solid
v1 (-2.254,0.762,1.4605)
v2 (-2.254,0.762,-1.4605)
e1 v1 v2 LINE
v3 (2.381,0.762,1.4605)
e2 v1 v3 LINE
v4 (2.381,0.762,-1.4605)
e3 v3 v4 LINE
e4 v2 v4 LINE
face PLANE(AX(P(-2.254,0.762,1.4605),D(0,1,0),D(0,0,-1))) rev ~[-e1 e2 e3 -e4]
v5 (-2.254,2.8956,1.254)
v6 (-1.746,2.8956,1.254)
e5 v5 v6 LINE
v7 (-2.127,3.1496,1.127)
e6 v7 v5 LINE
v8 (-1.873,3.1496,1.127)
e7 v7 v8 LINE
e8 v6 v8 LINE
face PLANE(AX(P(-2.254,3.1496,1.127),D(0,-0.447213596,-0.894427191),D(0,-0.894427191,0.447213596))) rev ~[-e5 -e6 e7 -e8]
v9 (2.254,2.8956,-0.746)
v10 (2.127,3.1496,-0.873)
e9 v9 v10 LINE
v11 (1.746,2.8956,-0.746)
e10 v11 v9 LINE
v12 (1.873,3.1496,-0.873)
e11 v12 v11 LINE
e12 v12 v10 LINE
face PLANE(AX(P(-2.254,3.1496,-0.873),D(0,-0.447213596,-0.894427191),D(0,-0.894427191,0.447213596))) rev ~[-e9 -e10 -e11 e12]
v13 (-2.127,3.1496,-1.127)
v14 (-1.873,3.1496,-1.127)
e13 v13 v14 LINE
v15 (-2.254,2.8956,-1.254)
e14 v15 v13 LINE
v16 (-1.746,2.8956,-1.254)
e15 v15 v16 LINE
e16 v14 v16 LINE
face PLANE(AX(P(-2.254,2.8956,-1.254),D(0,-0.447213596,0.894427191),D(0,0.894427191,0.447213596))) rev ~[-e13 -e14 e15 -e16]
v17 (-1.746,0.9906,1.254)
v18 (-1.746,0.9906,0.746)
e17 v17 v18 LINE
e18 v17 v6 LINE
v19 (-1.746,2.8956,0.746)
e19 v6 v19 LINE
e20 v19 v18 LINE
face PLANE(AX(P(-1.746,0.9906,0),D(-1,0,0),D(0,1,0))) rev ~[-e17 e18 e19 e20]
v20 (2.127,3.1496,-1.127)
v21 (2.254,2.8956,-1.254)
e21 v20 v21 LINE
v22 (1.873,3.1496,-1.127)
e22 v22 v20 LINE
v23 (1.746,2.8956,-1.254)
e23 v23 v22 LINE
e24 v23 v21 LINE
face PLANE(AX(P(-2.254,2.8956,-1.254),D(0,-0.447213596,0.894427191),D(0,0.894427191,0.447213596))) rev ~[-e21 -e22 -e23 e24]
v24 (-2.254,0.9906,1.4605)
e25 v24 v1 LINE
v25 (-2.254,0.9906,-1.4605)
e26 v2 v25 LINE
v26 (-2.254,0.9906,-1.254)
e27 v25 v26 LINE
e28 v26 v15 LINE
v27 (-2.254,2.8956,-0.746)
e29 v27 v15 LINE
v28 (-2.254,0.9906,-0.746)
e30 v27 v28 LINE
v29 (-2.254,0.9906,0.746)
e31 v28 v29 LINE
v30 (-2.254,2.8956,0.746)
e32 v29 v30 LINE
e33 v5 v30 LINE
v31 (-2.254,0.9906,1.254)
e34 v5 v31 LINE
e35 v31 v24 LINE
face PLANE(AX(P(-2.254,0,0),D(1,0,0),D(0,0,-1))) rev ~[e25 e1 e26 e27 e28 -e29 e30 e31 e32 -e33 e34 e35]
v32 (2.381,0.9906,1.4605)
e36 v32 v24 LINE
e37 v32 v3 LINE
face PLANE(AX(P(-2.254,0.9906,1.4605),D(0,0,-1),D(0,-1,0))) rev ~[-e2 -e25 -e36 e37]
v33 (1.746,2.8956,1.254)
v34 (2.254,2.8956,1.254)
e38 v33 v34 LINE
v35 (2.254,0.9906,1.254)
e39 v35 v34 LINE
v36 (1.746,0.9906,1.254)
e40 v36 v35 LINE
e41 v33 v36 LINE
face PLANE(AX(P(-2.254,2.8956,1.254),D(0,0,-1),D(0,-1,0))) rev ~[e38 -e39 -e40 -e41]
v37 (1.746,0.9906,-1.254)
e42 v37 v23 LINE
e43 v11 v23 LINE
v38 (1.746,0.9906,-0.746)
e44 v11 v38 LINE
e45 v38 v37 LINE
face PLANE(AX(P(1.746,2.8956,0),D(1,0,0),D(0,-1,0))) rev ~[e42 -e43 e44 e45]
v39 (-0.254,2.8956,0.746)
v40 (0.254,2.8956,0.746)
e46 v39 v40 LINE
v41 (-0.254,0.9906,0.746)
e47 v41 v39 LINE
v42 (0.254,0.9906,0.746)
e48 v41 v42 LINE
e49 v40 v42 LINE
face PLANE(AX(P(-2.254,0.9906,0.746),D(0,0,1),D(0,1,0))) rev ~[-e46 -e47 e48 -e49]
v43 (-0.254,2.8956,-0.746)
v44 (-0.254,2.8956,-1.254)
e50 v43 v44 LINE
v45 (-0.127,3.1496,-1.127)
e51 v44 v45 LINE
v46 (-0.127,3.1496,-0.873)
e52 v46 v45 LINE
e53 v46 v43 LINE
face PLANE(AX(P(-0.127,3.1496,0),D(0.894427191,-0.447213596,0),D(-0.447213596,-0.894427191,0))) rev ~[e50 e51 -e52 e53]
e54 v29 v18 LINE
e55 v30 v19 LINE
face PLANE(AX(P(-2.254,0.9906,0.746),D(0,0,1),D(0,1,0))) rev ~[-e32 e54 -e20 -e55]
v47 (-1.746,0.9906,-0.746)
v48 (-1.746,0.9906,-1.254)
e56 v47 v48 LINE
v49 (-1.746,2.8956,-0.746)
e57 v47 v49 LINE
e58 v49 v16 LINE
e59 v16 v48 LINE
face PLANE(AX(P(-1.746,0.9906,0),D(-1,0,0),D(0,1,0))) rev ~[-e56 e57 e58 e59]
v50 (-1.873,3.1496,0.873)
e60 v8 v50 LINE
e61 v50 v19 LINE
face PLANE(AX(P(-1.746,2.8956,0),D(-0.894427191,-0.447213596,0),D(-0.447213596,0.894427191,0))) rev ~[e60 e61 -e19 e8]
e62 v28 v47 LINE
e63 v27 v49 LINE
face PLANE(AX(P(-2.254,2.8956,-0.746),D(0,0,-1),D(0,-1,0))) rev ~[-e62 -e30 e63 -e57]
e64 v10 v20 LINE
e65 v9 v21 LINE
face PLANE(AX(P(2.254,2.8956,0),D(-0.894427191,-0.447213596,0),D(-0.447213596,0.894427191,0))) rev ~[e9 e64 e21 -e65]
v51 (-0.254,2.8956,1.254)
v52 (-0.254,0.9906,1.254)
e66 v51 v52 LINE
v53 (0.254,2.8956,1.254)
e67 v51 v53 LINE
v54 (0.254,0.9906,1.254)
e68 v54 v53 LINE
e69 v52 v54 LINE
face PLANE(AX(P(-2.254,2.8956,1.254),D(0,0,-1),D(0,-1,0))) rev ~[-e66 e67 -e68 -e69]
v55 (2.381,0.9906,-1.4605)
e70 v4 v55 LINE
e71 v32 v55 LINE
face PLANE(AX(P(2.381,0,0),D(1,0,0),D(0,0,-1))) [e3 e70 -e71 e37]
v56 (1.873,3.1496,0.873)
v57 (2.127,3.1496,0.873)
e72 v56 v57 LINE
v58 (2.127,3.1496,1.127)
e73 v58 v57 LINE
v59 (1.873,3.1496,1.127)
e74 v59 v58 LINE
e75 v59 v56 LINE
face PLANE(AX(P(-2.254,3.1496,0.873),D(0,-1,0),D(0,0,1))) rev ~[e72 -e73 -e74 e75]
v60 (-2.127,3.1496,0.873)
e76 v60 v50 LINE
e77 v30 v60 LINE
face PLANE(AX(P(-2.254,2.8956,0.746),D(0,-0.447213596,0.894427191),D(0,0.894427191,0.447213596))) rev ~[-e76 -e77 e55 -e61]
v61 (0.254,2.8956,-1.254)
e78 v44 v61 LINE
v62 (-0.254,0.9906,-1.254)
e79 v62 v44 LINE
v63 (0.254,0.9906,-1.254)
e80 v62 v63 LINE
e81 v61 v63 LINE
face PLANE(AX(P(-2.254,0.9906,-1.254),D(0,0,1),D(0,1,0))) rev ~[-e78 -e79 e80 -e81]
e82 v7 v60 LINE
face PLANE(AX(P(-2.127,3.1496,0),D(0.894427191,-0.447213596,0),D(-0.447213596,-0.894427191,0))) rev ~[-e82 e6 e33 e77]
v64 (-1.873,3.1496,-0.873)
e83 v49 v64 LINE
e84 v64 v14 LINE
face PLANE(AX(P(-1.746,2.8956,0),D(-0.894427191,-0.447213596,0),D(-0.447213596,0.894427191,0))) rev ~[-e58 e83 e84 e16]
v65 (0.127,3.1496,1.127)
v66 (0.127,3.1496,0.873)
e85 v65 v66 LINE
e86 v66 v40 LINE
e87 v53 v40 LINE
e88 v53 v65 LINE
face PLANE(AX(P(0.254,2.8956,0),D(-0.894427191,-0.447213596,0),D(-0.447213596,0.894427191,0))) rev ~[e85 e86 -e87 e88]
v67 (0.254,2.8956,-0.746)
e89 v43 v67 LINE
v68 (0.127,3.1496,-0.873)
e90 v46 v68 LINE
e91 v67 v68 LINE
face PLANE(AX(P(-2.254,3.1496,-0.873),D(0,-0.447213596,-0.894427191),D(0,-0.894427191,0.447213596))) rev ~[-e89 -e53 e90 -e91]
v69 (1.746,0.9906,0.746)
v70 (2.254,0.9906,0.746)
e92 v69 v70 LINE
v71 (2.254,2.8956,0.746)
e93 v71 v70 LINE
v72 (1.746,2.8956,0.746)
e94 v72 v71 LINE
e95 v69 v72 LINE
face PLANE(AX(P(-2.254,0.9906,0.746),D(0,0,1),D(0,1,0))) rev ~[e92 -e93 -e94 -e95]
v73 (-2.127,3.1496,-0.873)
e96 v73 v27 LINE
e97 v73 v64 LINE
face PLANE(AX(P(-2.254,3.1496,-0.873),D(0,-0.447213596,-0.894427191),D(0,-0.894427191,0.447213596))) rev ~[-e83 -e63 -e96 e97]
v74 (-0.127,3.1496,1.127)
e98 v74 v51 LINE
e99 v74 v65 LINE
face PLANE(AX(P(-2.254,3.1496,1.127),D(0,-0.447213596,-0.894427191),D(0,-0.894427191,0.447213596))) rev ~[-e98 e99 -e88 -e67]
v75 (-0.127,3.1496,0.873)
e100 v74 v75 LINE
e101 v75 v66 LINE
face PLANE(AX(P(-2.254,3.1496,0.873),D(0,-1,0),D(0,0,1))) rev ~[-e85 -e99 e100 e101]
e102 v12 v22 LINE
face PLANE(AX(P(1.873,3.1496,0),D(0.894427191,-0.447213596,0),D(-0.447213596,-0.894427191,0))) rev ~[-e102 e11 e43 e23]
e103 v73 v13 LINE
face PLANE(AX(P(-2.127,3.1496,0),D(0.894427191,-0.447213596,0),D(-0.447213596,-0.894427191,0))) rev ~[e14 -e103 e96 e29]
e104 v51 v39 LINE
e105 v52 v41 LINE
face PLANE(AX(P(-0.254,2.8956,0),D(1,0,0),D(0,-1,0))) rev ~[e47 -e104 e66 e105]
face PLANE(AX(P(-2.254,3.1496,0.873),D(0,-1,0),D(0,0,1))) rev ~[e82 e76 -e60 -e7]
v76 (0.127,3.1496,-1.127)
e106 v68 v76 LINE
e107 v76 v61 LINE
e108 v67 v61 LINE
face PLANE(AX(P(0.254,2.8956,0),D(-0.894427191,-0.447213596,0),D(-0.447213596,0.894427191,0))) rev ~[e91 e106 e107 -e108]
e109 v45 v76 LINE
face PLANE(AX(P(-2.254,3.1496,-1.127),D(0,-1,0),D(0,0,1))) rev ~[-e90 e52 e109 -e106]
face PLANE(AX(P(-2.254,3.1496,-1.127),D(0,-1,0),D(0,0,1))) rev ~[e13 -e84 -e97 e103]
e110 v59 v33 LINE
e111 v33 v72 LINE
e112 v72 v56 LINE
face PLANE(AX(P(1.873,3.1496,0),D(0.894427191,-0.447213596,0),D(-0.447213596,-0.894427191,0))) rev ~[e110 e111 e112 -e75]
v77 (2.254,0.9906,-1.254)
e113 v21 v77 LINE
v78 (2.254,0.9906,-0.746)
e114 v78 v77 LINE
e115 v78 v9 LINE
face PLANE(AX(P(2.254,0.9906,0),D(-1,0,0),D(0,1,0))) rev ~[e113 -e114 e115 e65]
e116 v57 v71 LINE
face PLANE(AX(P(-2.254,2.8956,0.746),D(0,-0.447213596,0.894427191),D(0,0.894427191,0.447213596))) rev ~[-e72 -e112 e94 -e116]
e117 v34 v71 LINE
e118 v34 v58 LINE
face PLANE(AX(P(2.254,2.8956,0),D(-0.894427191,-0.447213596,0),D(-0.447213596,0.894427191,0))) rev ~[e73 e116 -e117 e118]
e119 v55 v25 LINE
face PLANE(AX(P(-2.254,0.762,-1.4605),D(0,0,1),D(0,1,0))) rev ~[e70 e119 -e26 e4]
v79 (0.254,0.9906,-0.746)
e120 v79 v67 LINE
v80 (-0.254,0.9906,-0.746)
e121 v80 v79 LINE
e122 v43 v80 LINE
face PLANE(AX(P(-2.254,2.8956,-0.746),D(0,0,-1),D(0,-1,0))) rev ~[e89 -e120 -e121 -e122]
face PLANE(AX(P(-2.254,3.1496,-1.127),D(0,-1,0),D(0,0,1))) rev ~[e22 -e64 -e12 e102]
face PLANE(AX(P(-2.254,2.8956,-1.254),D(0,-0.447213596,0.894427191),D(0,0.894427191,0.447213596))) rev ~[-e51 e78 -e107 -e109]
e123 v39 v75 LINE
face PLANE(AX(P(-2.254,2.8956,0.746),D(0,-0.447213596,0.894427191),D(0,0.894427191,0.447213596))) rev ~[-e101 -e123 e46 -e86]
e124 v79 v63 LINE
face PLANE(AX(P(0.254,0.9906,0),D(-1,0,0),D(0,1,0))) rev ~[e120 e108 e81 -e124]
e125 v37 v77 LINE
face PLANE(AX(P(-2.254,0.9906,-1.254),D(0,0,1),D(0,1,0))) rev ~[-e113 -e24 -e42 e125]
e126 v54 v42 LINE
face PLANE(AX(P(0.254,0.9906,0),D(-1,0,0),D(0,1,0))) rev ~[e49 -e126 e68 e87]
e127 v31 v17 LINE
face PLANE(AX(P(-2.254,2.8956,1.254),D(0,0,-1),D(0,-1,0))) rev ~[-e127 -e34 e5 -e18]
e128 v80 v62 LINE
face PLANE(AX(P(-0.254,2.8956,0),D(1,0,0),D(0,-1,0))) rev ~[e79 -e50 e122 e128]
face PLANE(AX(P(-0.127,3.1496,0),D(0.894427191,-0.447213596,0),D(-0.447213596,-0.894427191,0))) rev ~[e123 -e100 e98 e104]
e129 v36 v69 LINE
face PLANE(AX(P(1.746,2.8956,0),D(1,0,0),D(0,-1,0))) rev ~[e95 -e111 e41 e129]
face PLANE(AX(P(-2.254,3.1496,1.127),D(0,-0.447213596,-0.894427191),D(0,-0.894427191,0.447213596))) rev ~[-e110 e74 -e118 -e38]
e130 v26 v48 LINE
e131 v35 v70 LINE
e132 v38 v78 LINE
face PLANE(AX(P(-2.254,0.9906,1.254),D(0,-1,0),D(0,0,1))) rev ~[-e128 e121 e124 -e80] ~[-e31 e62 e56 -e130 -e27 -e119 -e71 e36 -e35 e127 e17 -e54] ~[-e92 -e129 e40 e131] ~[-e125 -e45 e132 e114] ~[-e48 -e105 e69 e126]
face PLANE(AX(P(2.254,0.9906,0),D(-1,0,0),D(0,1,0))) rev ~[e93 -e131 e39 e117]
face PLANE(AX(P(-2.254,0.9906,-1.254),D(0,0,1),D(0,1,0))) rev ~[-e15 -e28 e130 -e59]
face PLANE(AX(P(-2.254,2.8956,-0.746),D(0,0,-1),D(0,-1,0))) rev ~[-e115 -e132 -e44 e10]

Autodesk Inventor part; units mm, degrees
sketch "Sketch_2" plane through (-2.254, 0, 0) normal (1, 0, 0) x (0, 0, -1)
  line L0 (-1.4605, 0.762) -> (1.4605, 0.762)
  line L1 (1.4605, 0.762) -> (1.4605, 0.9906)
  line L2 (1.4605, 0.9906) -> (1.254, 0.9906)
  line L3 (1.254, 0.9906) -> (1.254, 2.8956)
  line L4 (1.254, 2.8956) -> (1.127, 3.1496)
  line L5 (1.127, 3.1496) -> (0.873, 3.1496)
  line L6 (0.873, 3.1496) -> (0.746, 2.8956)
  line L7 (0.746, 2.8956) -> (0.746, 0.9906)
  line L8 (0.746, 0.9906) -> (-0.746, 0.9906)
  line L9 (-0.746, 0.9906) -> (-0.746, 2.8956)
  line L10 (-0.746, 2.8956) -> (-0.873, 3.1496)
  line L11 (-0.873, 3.1496) -> (-1.127, 3.1496)
  line L12 (-1.127, 3.1496) -> (-1.254, 2.8956)
  line L13 (-1.254, 2.8956) -> (-1.254, 0.9906)
  line L14 (-1.254, 0.9906) -> (-1.4605, 0.9906)
  line L15 (-1.4605, 0.9906) -> (-1.4605, 0.762)
extrude "Extrusion1" add sketch "Sketch_2" along normal blind 4.635
sketch "Sketch_1" plane through (0, 0, 0) normal (0, 0, 1) x (1, 0, 0)
  line L0 (-109.4334, 38.1) -> (-109.4334, -38.1)
  line L1 (-109.4334, -38.1) -> (56.7986, -38.1)
  line L2 (56.7986, -38.1) -> (56.7986, 38.1)
  line L3 (56.7986, 38.1) -> (-109.4334, 38.1)
  line L4 (-100.4603, 0.762) -> (-100.2538, 0.762)
  line L5 (-100.2538, 0.762) -> (-100.2538, -2.032)
  line L6 (-100.2538, -2.032) -> (-100.1268, -2.286)
  line L7 (-100.1268, -2.286) -> (-99.8728, -2.286)
  line L8 (-99.8728, -2.286) -> (-99.7458, -2.032)
  line L9 (-99.7458, -2.032) -> (-99.7458, 0.762)
  line L10 (-99.7458, 0.762) -> (-98.2538, 0.762)
  line L11 (-98.2538, 0.762) -> (-98.2538, -2.032)
  line L12 (-98.2538, -2.032) -> (-98.1268, -2.286)
  line L13 (-98.1268, -2.286) -> (-97.8728, -2.286)
  line L14 (-97.8728, -2.286) -> (-97.7458, -2.032)
  line L15 (-97.7458, -2.032) -> (-97.7458, 0.762)
  line L16 (-97.7458, 0.762) -> (-96.2538, 0.762)
  line L17 (-96.2538, 0.762) -> (-96.2538, -2.032)
  line L18 (-96.2538, -2.032) -> (-96.1268, -2.286)
  line L19 (-96.1268, -2.286) -> (-95.8728, -2.286)
  line L20 (-95.8728, -2.286) -> (-95.7458, -2.032)
  line L21 (-95.7458, -2.032) -> (-95.7458, 0.762)
  line L22 (-95.7458, 0.762) -> (-94.2538, 0.762)
  line L23 (-94.2538, 0.762) -> (-94.2538, -2.032)
  line L24 (-94.2538, -2.032) -> (-94.1268, -2.286)
  line L25 (-94.1268, -2.286) -> (-93.8728, -2.286)
  line L26 (-93.8728, -2.286) -> (-93.7458, -2.032)
  line L27 (-93.7458, -2.032) -> (-93.7458, 0.762)
  line L28 (-93.7458, 0.762) -> (-92.2538, 0.762)
  line L29 (-92.2538, 0.762) -> (-92.2538, -2.032)
  line L30 (-92.2538, -2.032) -> (-92.1268, -2.286)
  line L31 (-92.1268, -2.286) -> (-91.8728, -2.286)
  line L32 (-91.8728, -2.286) -> (-91.7458, -2.032)
  line L33 (-91.7458, -2.032) -> (-91.7458, 0.762)
  line L34 (-91.7458, 0.762) -> (-90.2538, 0.762)
  line L35 (-90.2538, 0.762) -> (-90.2538, -2.032)
  line L36 (-90.2538, -2.032) -> (-90.1268, -2.286)
  line L37 (-90.1268, -2.286) -> (-89.8728, -2.286)
  line L38 (-89.8728, -2.286) -> (-89.7458, -2.032)
  line L39 (-89.7458, -2.032) -> (-89.7458, 0.762)
  line L40 (-89.7458, 0.762) -> (-88.2538, 0.762)
  line L41 (-88.2538, 0.762) -> (-88.2538, -2.032)
  line L42 (-88.2538, -2.032) -> (-88.1268, -2.286)
  line L43 (-88.1268, -2.286) -> (-87.8728, -2.286)
  line L44 (-87.8728, -2.286) -> (-87.7458, -2.032)
  line L45 (-87.7458, -2.032) -> (-87.7458, 0.762)
  line L46 (-87.7458, 0.762) -> (-86.2538, 0.762)
  line L47 (-86.2538, 0.762) -> (-86.2538, -2.032)
  line L48 (-86.2538, -2.032) -> (-86.1268, -2.286)
  line L49 (-86.1268, -2.286) -> (-85.8728, -2.286)
  line L50 (-85.8728, -2.286) -> (-85.7458, -2.032)
  line L51 (-85.7458, -2.032) -> (-85.7458, 0.762)
  line L52 (-85.7458, 0.762) -> (-84.2538, 0.762)
  line L53 (-84.2538, 0.762) -> (-84.2538, -2.032)
  line L54 (-84.2538, -2.032) -> (-84.1268, -2.286)
  line L55 (-84.1268, -2.286) -> (-83.8728, -2.286)
  line L56 (-83.8728, -2.286) -> (-83.7458, -2.032)
  line L57 (-83.7458, -2.032) -> (-83.7458, 0.762)
  line L58 (-83.7458, 0.762) -> (-82.2538, 0.762)
  line L59 (-82.2538, 0.762) -> (-82.2538, -2.032)
  line L60 (-82.2538, -2.032) -> (-82.1268, -2.286)
  line L61 (-82.1268, -2.286) -> (-81.8728, -2.286)
  line L62 (-81.8728, -2.286) -> (-81.7458, -2.032)
  line L63 (-81.7458, -2.032) -> (-81.7458, 0.762)
  line L64 (-81.7458, 0.762) -> (-80.2538, 0.762)
  line L65 (-80.2538, 0.762) -> (-80.2538, -2.032)
  line L66 (-80.2538, -2.032) -> (-80.1268, -2.286)
  line L67 (-80.1268, -2.286) -> (-79.8728, -2.286)
  line L68 (-79.8728, -2.286) -> (-79.7458, -2.032)
  line L69 (-79.7458, -2.032) -> (-79.7458, 0.762)
  line L70 (-79.7458, 0.762) -> (-78.2538, 0.762)
  line L71 (-78.2538, 0.762) -> (-78.2538, -2.032)
  line L72 (-78.2538, -2.032) -> (-78.1268, -2.286)
  line L73 (-78.1268, -2.286) -> (-77.8728, -2.286)
  line L74 (-77.8728, -2.286) -> (-77.7458, -2.032)
  line L75 (-77.7458, -2.032) -> (-77.7458, 0.762)
  line L76 (-77.7458, 0.762) -> (-76.2538, 0.762)
  line L77 (-76.2538, 0.762) -> (-76.2538, -2.032)
  line L78 (-76.2538, -2.032) -> (-76.1268, -2.286)
  line L79 (-76.1268, -2.286) -> (-75.8728, -2.286)
  line L80 (-75.8728, -2.286) -> (-75.7458, -2.032)
  line L81 (-75.7458, -2.032) -> (-75.7458, 0.762)
  line L82 (-75.7458, 0.762) -> (-74.2539, 0.762)
  line L83 (-74.2539, 0.762) -> (-74.2539, -2.032)
  line L84 (-74.2539, -2.032) -> (-74.1269, -2.286)
  line L85 (-74.1269, -2.286) -> (-73.8729, -2.286)
  line L86 (-73.8729, -2.286) -> (-73.7459, -2.032)
  line L87 (-73.7459, -2.032) -> (-73.7459, 0.762)
  line L88 (-73.7459, 0.762) -> (-72.2539, 0.762)
  line L89 (-72.2539, 0.762) -> (-72.2539, -2.032)
  line L90 (-72.2539, -2.032) -> (-72.1269, -2.286)
  line L91 (-72.1269, -2.286) -> (-71.8729, -2.286)
  line L92 (-71.8729, -2.286) -> (-71.7459, -2.032)
  line L93 (-71.7459, -2.032) -> (-71.7459, 0.762)
  line L94 (-71.7459, 0.762) -> (-70.2539, 0.762)
  line L95 (-70.2539, 0.762) -> (-70.2539, -2.032)
  line L96 (-70.2539, -2.032) -> (-70.1269, -2.286)
  line L97 (-70.1269, -2.286) -> (-69.8729, -2.286)
  line L98 (-69.8729, -2.286) -> (-69.7459, -2.032)
  line L99 (-69.7459, -2.032) -> (-69.7459, 0.762)
  line L100 (-69.7459, 0.762) -> (-68.2539, 0.762)
  line L101 (-68.2539, 0.762) -> (-68.2539, -2.032)
  line L102 (-68.2539, -2.032) -> (-68.1269, -2.286)
  line L103 (-68.1269, -2.286) -> (-67.8729, -2.286)
  line L104 (-67.8729, -2.286) -> (-67.7459, -2.032)
  line L105 (-67.7459, -2.032) -> (-67.7459, 0.762)
  line L106 (-67.7459, 0.762) -> (-66.2539, 0.762)
  line L107 (-66.2539, 0.762) -> (-66.2539, -2.032)
  line L108 (-66.2539, -2.032) -> (-66.1269, -2.286)
  line L109 (-66.1269, -2.286) -> (-65.8729, -2.286)
  line L110 (-65.8729, -2.286) -> (-65.7459, -2.032)
  line L111 (-65.7459, -2.032) -> (-65.7459, 0.762)
  line L112 (-65.7459, 0.762) -> (-64.2539, 0.762)
  line L113 (-64.2539, 0.762) -> (-64.2539, -2.032)
  line L114 (-64.2539, -2.032) -> (-64.1269, -2.286)
  line L115 (-64.1269, -2.286) -> (-63.8729, -2.286)
  line L116 (-63.8729, -2.286) -> (-63.7459, -2.032)
  line L117 (-63.7459, -2.032) -> (-63.7459, 0.762)
  line L118 (-63.7459, 0.762) -> (-62.2539, 0.762)
  line L119 (-62.2539, 0.762) -> (-62.2539, -2.032)
  line L120 (-62.2539, -2.032) -> (-62.1269, -2.286)
  line L121 (-62.1269, -2.286) -> (-61.8729, -2.286)
  line L122 (-61.8729, -2.286) -> (-61.7459, -2.032)
  line L123 (-61.7459, -2.032) -> (-61.7459, 0.762)
  line L124 (-61.7459, 0.762) -> (-60.2539, 0.762)
  line L125 (-60.2539, 0.762) -> (-60.2539, -2.032)
  line L126 (-60.2539, -2.032) -> (-60.1269, -2.286)
  line L127 (-60.1269, -2.286) -> (-59.8729, -2.286)
  line L128 (-59.8729, -2.286) -> (-59.7459, -2.032)
  line L129 (-59.7459, -2.032) -> (-59.7459, 0.762)
  line L130 (-59.7459, 0.762) -> (-58.2539, 0.762)
  line L131 (-58.2539, 0.762) -> (-58.2539, -2.032)
  line L132 (-58.2539, -2.032) -> (-58.1269, -2.286)
  line L133 (-58.1269, -2.286) -> (-57.8729, -2.286)
  line L134 (-57.8729, -2.286) -> (-57.7459, -2.032)
  line L135 (-57.7459, -2.032) -> (-57.7459, 0.762)
  line L136 (-57.7459, 0.762) -> (-56.2539, 0.762)
  line L137 (-56.2539, 0.762) -> (-56.2539, -2.032)
  line L138 (-56.2539, -2.032) -> (-56.1269, -2.286)
  line L139 (-56.1269, -2.286) -> (-55.8729, -2.286)
  line L140 (-55.8729, -2.286) -> (-55.7459, -2.032)
  line L141 (-55.7459, -2.032) -> (-55.7459, 0.762)
  line L142 (-55.7459, 0.762) -> (-54.2539, 0.762)
  line L143 (-54.2539, 0.762) -> (-54.2539, -2.032)
  line L144 (-54.2539, -2.032) -> (-54.1269, -2.286)
  line L145 (-54.1269, -2.286) -> (-53.8729, -2.286)
  line L146 (-53.8729, -2.286) -> (-53.7459, -2.032)
  line L147 (-53.7459, -2.032) -> (-53.7459, 0.762)
  line L148 (-53.7459, 0.762) -> (-52.2539, 0.762)
  line L149 (-52.2539, 0.762) -> (-52.2539, -2.032)
  line L150 (-52.2539, -2.032) -> (-52.1269, -2.286)
  line L151 (-52.1269, -2.286) -> (-51.8729, -2.286)
  line L152 (-51.8729, -2.286) -> (-51.7459, -2.032)
  line L153 (-51.7459, -2.032) -> (-51.7459, 0.762)
  line L154 (-51.7459, 0.762) -> (-50.2539, 0.762)
  line L155 (-50.2539, 0.762) -> (-50.2539, -2.032)
  line L156 (-50.2539, -2.032) -> (-50.1269, -2.286)
  line L157 (-50.1269, -2.286) -> (-49.8729, -2.286)
  line L158 (-49.8729, -2.286) -> (-49.7459, -2.032)
  line L159 (-49.7459, -2.032) -> (-49.7459, 0.762)
  line L160 (-49.7459, 0.762) -> (-48.2539, 0.762)
  line L161 (-48.2539, 0.762) -> (-48.2539, -2.032)
  line L162 (-48.2539, -2.032) -> (-48.1269, -2.286)
  line L163 (-48.1269, -2.286) -> (-47.8729, -2.286)
  line L164 (-47.8729, -2.286) -> (-47.7459, -2.032)
  line L165 (-47.7459, -2.032) -> (-47.7459, 0.762)
  line L166 (-47.7459, 0.762) -> (-46.2539, 0.762)
  line L167 (-46.2539, 0.762) -> (-46.2539, -2.032)
  line L168 (-46.2539, -2.032) -> (-46.1269, -2.286)
  line L169 (-46.1269, -2.286) -> (-45.8729, -2.286)
  line L170 (-45.8729, -2.286) -> (-45.7459, -2.032)
  line L171 (-45.7459, -2.032) -> (-45.7459, 0.762)
  line L172 (-45.7459, 0.762) -> (-44.2539, 0.762)
  line L173 (-44.2539, 0.762) -> (-44.2539, -2.032)
  line L174 (-44.2539, -2.032) -> (-44.1269, -2.286)
  line L175 (-44.1269, -2.286) -> (-43.8729, -2.286)
  line L176 (-43.8729, -2.286) -> (-43.7459, -2.032)
  line L177 (-43.7459, -2.032) -> (-43.7459, 0.762)
  line L178 (-43.7459, 0.762) -> (-42.2539, 0.762)
  line L179 (-42.2539, 0.762) -> (-42.2539, -2.032)
  line L180 (-42.2539, -2.032) -> (-42.1269, -2.286)
  line L181 (-42.1269, -2.286) -> (-41.8729, -2.286)
  line L182 (-41.8729, -2.286) -> (-41.7459, -2.032)
  line L183 (-41.7459, -2.032) -> (-41.7459, 0.762)
  line L184 (-41.7459, 0.762) -> (-40.2539, 0.762)
  line L185 (-40.2539, 0.762) -> (-40.2539, -2.032)
  line L186 (-40.2539, -2.032) -> (-40.1269, -2.286)
  line L187 (-40.1269, -2.286) -> (-39.8729, -2.286)
  line L188 (-39.8729, -2.286) -> (-39.7459, -2.032)
  line L189 (-39.7459, -2.032) -> (-39.7459, 0.762)
  line L190 (-39.7459, 0.762) -> (-38.2539, 0.762)
  line L191 (-38.2539, 0.762) -> (-38.2539, -2.032)
  line L192 (-38.2539, -2.032) -> (-38.1269, -2.286)
  line L193 (-38.1269, -2.286) -> (-37.8729, -2.286)
  line L194 (-37.8729, -2.286) -> (-37.7459, -2.032)
  line L195 (-37.7459, -2.032) -> (-37.7459, 0.762)
  line L196 (-37.7459, 0.762) -> (-36.2539, 0.762)
  line L197 (-36.2539, 0.762) -> (-36.2539, -2.032)
  line L198 (-36.2539, -2.032) -> (-36.1269, -2.286)
  line L199 (-36.1269, -2.286) -> (-35.8729, -2.286)
  line L200 (-35.8729, -2.286) -> (-35.7459, -2.032)
  line L201 (-35.7459, -2.032) -> (-35.7459, 0.762)
  line L202 (-35.7459, 0.762) -> (-34.2539, 0.762)
  line L203 (-34.2539, 0.762) -> (-34.2539, -2.032)
  line L204 (-34.2539, -2.032) -> (-34.1269, -2.286)
  line L205 (-34.1269, -2.286) -> (-33.8729, -2.286)
  line L206 (-33.8729, -2.286) -> (-33.7459, -2.032)
  line L207 (-33.7459, -2.032) -> (-33.7459, 0.762)
  line L208 (-33.7459, 0.762) -> (-32.2539, 0.762)
  line L209 (-32.2539, 0.762) -> (-32.2539, -2.032)
  line L210 (-32.2539, -2.032) -> (-32.1269, -2.286)
  line L211 (-32.1269, -2.286) -> (-31.8729, -2.286)
  line L212 (-31.8729, -2.286) -> (-31.7459, -2.032)
  line L213 (-31.7459, -2.032) -> (-31.7459, 0.762)
  line L214 (-31.7459, 0.762) -> (-30.2539, 0.762)
  line L215 (-30.2539, 0.762) -> (-30.2539, -2.032)
  line L216 (-30.2539, -2.032) -> (-30.1269, -2.286)
  line L217 (-30.1269, -2.286) -> (-29.8729, -2.286)
  line L218 (-29.8729, -2.286) -> (-29.7459, -2.032)
  line L219 (-29.7459, -2.032) -> (-29.7459, 0.762)
  line L220 (-29.7459, 0.762) -> (-28.2539, 0.762)
  line L221 (-28.2539, 0.762) -> (-28.2539, -2.032)
  line L222 (-28.2539, -2.032) -> (-28.1269, -2.286)
  line L223 (-28.1269, -2.286) -> (-27.8729, -2.286)
  line L224 (-27.8729, -2.286) -> (-27.7459, -2.032)
  line L225 (-27.7459, -2.032) -> (-27.7459, 0.762)
  line L226 (-27.7459, 0.762) -> (-26.2539, 0.762)
  line L227 (-26.2539, 0.762) -> (-26.2539, -2.032)
  line L228 (-26.2539, -2.032) -> (-26.1269, -2.286)
  line L229 (-26.1269, -2.286) -> (-25.8729, -2.286)
  line L230 (-25.8729, -2.286) -> (-25.7459, -2.032)
  line L231 (-25.7459, -2.032) -> (-25.7459, 0.762)
  line L232 (-25.7459, 0.762) -> (-24.254, 0.762)
  line L233 (-24.254, 0.762) -> (-24.254, -2.032)
  line L234 (-24.254, -2.032) -> (-24.127, -2.286)
  line L235 (-24.127, -2.286) -> (-23.873, -2.286)
  line L236 (-23.873, -2.286) -> (-23.746, -2.032)
  line L237 (-23.746, -2.032) -> (-23.746, 0.762)
  line L238 (-23.746, 0.762) -> (-22.254, 0.762)
  line L239 (-22.254, 0.762) -> (-22.254, -2.032)
  line L240 (-22.254, -2.032) -> (-22.127, -2.286)
  line L241 (-22.127, -2.286) -> (-21.873, -2.286)
  line L242 (-21.873, -2.286) -> (-21.746, -2.032)
  line L243 (-21.746, -2.032) -> (-21.746, 0.762)
  line L244 (-21.746, 0.762) -> (-20.254, 0.762)
  line L245 (-20.254, 0.762) -> (-20.254, -2.032)
  line L246 (-20.254, -2.032) -> (-20.127, -2.286)
  line L247 (-20.127, -2.286) -> (-19.873, -2.286)
  line L248 (-19.873, -2.286) -> (-19.746, -2.032)
  line L249 (-19.746, -2.032) -> (-19.746, 0.762)
  line L250 (-19.746, 0.762) -> (-18.254, 0.762)
  line L251 (-18.254, 0.762) -> (-18.254, -2.032)
  line L252 (-18.254, -2.032) -> (-18.127, -2.286)
  line L253 (-18.127, -2.286) -> (-17.873, -2.286)
  line L254 (-17.873, -2.286) -> (-17.746, -2.032)
  line L255 (-17.746, -2.032) -> (-17.746, 0.762)
  line L256 (-17.746, 0.762) -> (-16.254, 0.762)
  line L257 (-16.254, 0.762) -> (-16.254, -2.032)
  line L258 (-16.254, -2.032) -> (-16.127, -2.286)
  line L259 (-16.127, -2.286) -> (-15.873, -2.286)
  line L260 (-15.873, -2.286) -> (-15.746, -2.032)
  line L261 (-15.746, -2.032) -> (-15.746, 0.762)
  line L262 (-15.746, 0.762) -> (-14.254, 0.762)
  line L263 (-14.254, 0.762) -> (-14.254, -2.032)
  line L264 (-14.254, -2.032) -> (-14.127, -2.286)
  line L265 (-14.127, -2.286) -> (-13.873, -2.286)
  line L266 (-13.873, -2.286) -> (-13.746, -2.032)
  line L267 (-13.746, -2.032) -> (-13.746, 0.762)
  line L268 (-13.746, 0.762) -> (-12.254, 0.762)
  line L269 (-12.254, 0.762) -> (-12.254, -2.032)
  line L270 (-12.254, -2.032) -> (-12.127, -2.286)
  line L271 (-12.127, -2.286) -> (-11.873, -2.286)
  line L272 (-11.873, -2.286) -> (-11.746, -2.032)
  line L273 (-11.746, -2.032) -> (-11.746, 0.762)
  line L274 (-11.746, 0.762) -> (-10.254, 0.762)
  line L275 (-10.254, 0.762) -> (-10.254, -2.032)
  line L276 (-10.254, -2.032) -> (-10.127, -2.286)
  line L277 (-10.127, -2.286) -> (-9.873, -2.286)
  line L278 (-9.873, -2.286) -> (-9.746, -2.032)
  line L279 (-9.746, -2.032) -> (-9.746, 0.762)
  line L280 (-9.746, 0.762) -> (-8.254, 0.762)
  line L281 (-8.254, 0.762) -> (-8.254, -2.032)
  line L282 (-8.254, -2.032) -> (-8.127, -2.286)
  line L283 (-8.127, -2.286) -> (-7.873, -2.286)
  line L284 (-7.873, -2.286) -> (-7.746, -2.032)
  line L285 (-7.746, -2.032) -> (-7.746, 0.762)
  line L286 (-7.746, 0.762) -> (-6.254, 0.762)
  line L287 (-6.254, 0.762) -> (-6.254, -2.032)
  line L288 (-6.254, -2.032) -> (-6.127, -2.286)
  line L289 (-6.127, -2.286) -> (-5.873, -2.286)
  line L290 (-5.873, -2.286) -> (-5.746, -2.032)
  line L291 (-5.746, -2.032) -> (-5.746, 0.762)
  line L292 (-5.746, 0.762) -> (-4.254, 0.762)
  line L293 (-4.254, 0.762) -> (-4.254, -2.032)
  line L294 (-4.254, -2.032) -> (-4.127, -2.286)
  line L295 (-4.127, -2.286) -> (-3.873, -2.286)
  line L296 (-3.873, -2.286) -> (-3.746, -2.032)
  line L297 (-3.746, -2.032) -> (-3.746, 0.762)
  line L298 (-3.746, 0.762) -> (-2.254, 0.762)
  line L299 (-2.254, 0.762) -> (-2.254, -2.032)
  line L300 (-2.254, -2.032) -> (-2.127, -2.286)
  line L301 (-2.127, -2.286) -> (-1.873, -2.286)
  line L302 (-1.873, -2.286) -> (-1.746, -2.032)
  line L303 (-1.746, -2.032) -> (-1.746, 0.762)
  line L304 (-1.746, 0.762) -> (-0.254, 0.762)
  line L305 (-0.254, 0.762) -> (-0.254, -2.032)
  line L306 (-0.254, -2.032) -> (-0.127, -2.286)
  line L307 (-0.127, -2.286) -> (0.127, -2.286)
  line L308 (0.127, -2.286) -> (0.254, -2.032)
  line L309 (0.254, -2.032) -> (0.254, 0.762)
  line L310 (0.254, 0.762) -> (1.746, 0.762)
  line L311 (1.746, 0.762) -> (1.746, -2.032)
  line L312 (1.746, -2.032) -> (1.873, -2.286)
  line L313 (1.873, -2.286) -> (2.127, -2.286)
  line L314 (2.127, -2.286) -> (2.254, -2.032)
  line L315 (2.254, -2.032) -> (2.254, 0.762)
  line L316 (2.254, 0.762) -> (2.4605, 0.762)
  line L317 (2.4605, 0.762) -> (2.4605, 0.9906)
  line L318 (2.4605, 0.9906) -> (2.254, 0.9906)
  line L319 (2.254, 0.9906) -> (2.254, 2.8956)
  line L320 (2.254, 2.8956) -> (2.127, 3.1496)
  line L321 (2.127, 3.1496) -> (1.873, 3.1496)
  line L322 (1.873, 3.1496) -> (1.746, 2.8956)
  line L323 (1.746, 2.8956) -> (1.746, 0.9906)
  line L324 (1.746, 0.9906) -> (0.254, 0.9906)
  line L325 (0.254, 0.9906) -> (0.254, 2.8956)
  line L326 (0.254, 2.8956) -> (0.127, 3.1496)
  line L327 (0.127, 3.1496) -> (-0.127, 3.1496)
  line L328 (-0.127, 3.1496) -> (-0.254, 2.8956)
  line L329 (-0.254, 2.8956) -> (-0.254, 0.9906)
  line L330 (-0.254, 0.9906) -> (-1.746, 0.9906)
  line L331 (-1.746, 0.9906) -> (-1.746, 2.8956)
  line L332 (-1.746, 2.8956) -> (-1.873, 3.1496)
  line L333 (-1.873, 3.1496) -> (-2.127, 3.1496)
  line L334 (-2.127, 3.1496) -> (-2.254, 2.8956)
  line L335 (-2.254, 2.8956) -> (-2.254, 0.9906)
  line L336 (-2.254, 0.9906) -> (-3.746, 0.9906)
  line L337 (-3.746, 0.9906) -> (-3.746, 2.8956)
  line L338 (-3.746, 2.8956) -> (-3.873, 3.1496)
  line L339 (-3.873, 3.1496) -> (-4.127, 3.1496)
  line L340 (-4.127, 3.1496) -> (-4.254, 2.8956)
  line L341 (-4.254, 2.8956) -> (-4.254, 0.9906)
  line L342 (-4.254, 0.9906) -> (-5.746, 0.9906)
  line L343 (-5.746, 0.9906) -> (-5.746, 2.8956)
  line L344 (-5.746, 2.8956) -> (-5.873, 3.1496)
  line L345 (-5.873, 3.1496) -> (-6.127, 3.1496)
  line L346 (-6.127, 3.1496) -> (-6.254, 2.8956)
  line L347 (-6.254, 2.8956) -> (-6.254, 0.9906)
  line L348 (-6.254, 0.9906) -> (-7.746, 0.9906)
  line L349 (-7.746, 0.9906) -> (-7.746, 2.8956)
  line L350 (-7.746, 2.8956) -> (-7.873, 3.1496)
  line L351 (-7.873, 3.1496) -> (-8.127, 3.1496)
  line L352 (-8.127, 3.1496) -> (-8.254, 2.8956)
  line L353 (-8.254, 2.8956) -> (-8.254, 0.9906)
  line L354 (-8.254, 0.9906) -> (-9.746, 0.9906)
  line L355 (-9.746, 0.9906) -> (-9.746, 2.8956)
  line L356 (-9.746, 2.8956) -> (-9.873, 3.1496)
  line L357 (-9.873, 3.1496) -> (-10.127, 3.1496)
  line L358 (-10.127, 3.1496) -> (-10.254, 2.8956)
  line L359 (-10.254, 2.8956) -> (-10.254, 0.9906)
  line L360 (-10.254, 0.9906) -> (-11.746, 0.9906)
  line L361 (-11.746, 0.9906) -> (-11.746, 2.8956)
  line L362 (-11.746, 2.8956) -> (-11.873, 3.1496)
  line L363 (-11.873, 3.1496) -> (-12.127, 3.1496)
  line L364 (-12.127, 3.1496) -> (-12.254, 2.8956)
  line L365 (-12.254, 2.8956) -> (-12.254, 0.9906)
  line L366 (-12.254, 0.9906) -> (-13.746, 0.9906)
  line L367 (-13.746, 0.9906) -> (-13.746, 2.8956)
  line L368 (-13.746, 2.8956) -> (-13.873, 3.1496)
  line L369 (-13.873, 3.1496) -> (-14.127, 3.1496)
  line L370 (-14.127, 3.1496) -> (-14.254, 2.8956)
  line L371 (-14.254, 2.8956) -> (-14.254, 0.9906)
  line L372 (-14.254, 0.9906) -> (-15.746, 0.9906)
  line L373 (-15.746, 0.9906) -> (-15.746, 2.8956)
  line L374 (-15.746, 2.8956) -> (-15.873, 3.1496)
  line L375 (-15.873, 3.1496) -> (-16.127, 3.1496)
  line L376 (-16.127, 3.1496) -> (-16.254, 2.8956)
  line L377 (-16.254, 2.8956) -> (-16.254, 0.9906)
  line L378 (-16.254, 0.9906) -> (-17.746, 0.9906)
  line L379 (-17.746, 0.9906) -> (-17.746, 2.8956)
  line L380 (-17.746, 2.8956) -> (-17.873, 3.1496)
  line L381 (-17.873, 3.1496) -> (-18.127, 3.1496)
  line L382 (-18.127, 3.1496) -> (-18.254, 2.8956)
  line L383 (-18.254, 2.8956) -> (-18.254, 0.9906)
  line L384 (-18.254, 0.9906) -> (-19.746, 0.9906)
  line L385 (-19.746, 0.9906) -> (-19.746, 2.8956)
  line L386 (-19.746, 2.8956) -> (-19.873, 3.1496)
  line L387 (-19.873, 3.1496) -> (-20.127, 3.1496)
  line L388 (-20.127, 3.1496) -> (-20.254, 2.8956)
  line L389 (-20.254, 2.8956) -> (-20.254, 0.9906)
  line L390 (-20.254, 0.9906) -> (-21.746, 0.9906)
  line L391 (-21.746, 0.9906) -> (-21.746, 2.8956)
  line L392 (-21.746, 2.8956) -> (-21.873, 3.1496)
  line L393 (-21.873, 3.1496) -> (-22.127, 3.1496)
  line L394 (-22.127, 3.1496) -> (-22.254, 2.8956)
  line L395 (-22.254, 2.8956) -> (-22.254, 0.9906)
  line L396 (-22.254, 0.9906) -> (-23.746, 0.9906)
  line L397 (-23.746, 0.9906) -> (-23.746, 2.8956)
  line L398 (-23.746, 2.8956) -> (-23.873, 3.1496)
  line L399 (-23.873, 3.1496) -> (-24.127, 3.1496)
  line L400 (-24.127, 3.1496) -> (-24.254, 2.8956)
  line L401 (-24.254, 2.8956) -> (-24.254, 0.9906)
  line L402 (-24.254, 0.9906) -> (-25.7459, 0.9906)
  line L403 (-25.7459, 0.9906) -> (-25.7459, 2.8956)
  line L404 (-25.7459, 2.8956) -> (-25.8729, 3.1496)
  line L405 (-25.8729, 3.1496) -> (-26.1269, 3.1496)
  line L406 (-26.1269, 3.1496) -> (-26.2539, 2.8956)
  line L407 (-26.2539, 2.8956) -> (-26.2539, 0.9906)
  line L408 (-26.2539, 0.9906) -> (-27.7459, 0.9906)
  line L409 (-27.7459, 0.9906) -> (-27.7459, 2.8956)
  line L410 (-27.7459, 2.8956) -> (-27.8729, 3.1496)
  line L411 (-27.8729, 3.1496) -> (-28.1269, 3.1496)
  line L412 (-28.1269, 3.1496) -> (-28.2539, 2.8956)
  line L413 (-28.2539, 2.8956) -> (-28.2539, 0.9906)
  line L414 (-28.2539, 0.9906) -> (-29.7459, 0.9906)
  line L415 (-29.7459, 0.9906) -> (-29.7459, 2.8956)
  line L416 (-29.7459, 2.8956) -> (-29.8729, 3.1496)
  line L417 (-29.8729, 3.1496) -> (-30.1269, 3.1496)
  line L418 (-30.1269, 3.1496) -> (-30.2539, 2.8956)
  line L419 (-30.2539, 2.8956) -> (-30.2539, 0.9906)
  line L420 (-30.2539, 0.9906) -> (-31.7459, 0.9906)
  line L421 (-31.7459, 0.9906) -> (-31.7459, 2.8956)
  line L422 (-31.7459, 2.8956) -> (-31.8729, 3.1496)
  line L423 (-31.8729, 3.1496) -> (-32.1269, 3.1496)
  line L424 (-32.1269, 3.1496) -> (-32.2539, 2.8956)
  line L425 (-32.2539, 2.8956) -> (-32.2539, 0.9906)
  line L426 (-32.2539, 0.9906) -> (-33.7459, 0.9906)
  line L427 (-33.7459, 0.9906) -> (-33.7459, 2.8956)
  line L428 (-33.7459, 2.8956) -> (-33.8729, 3.1496)
  line L429 (-33.8729, 3.1496) -> (-34.1269, 3.1496)
  line L430 (-34.1269, 3.1496) -> (-34.2539, 2.8956)
  line L431 (-34.2539, 2.8956) -> (-34.2539, 0.9906)
  line L432 (-34.2539, 0.9906) -> (-35.7459, 0.9906)
  line L433 (-35.7459, 0.9906) -> (-35.7459, 2.8956)
  line L434 (-35.7459, 2.8956) -> (-35.8729, 3.1496)
  line L435 (-35.8729, 3.1496) -> (-36.1269, 3.1496)
  line L436 (-36.1269, 3.1496) -> (-36.2539, 2.8956)
  line L437 (-36.2539, 2.8956) -> (-36.2539, 0.9906)
  line L438 (-36.2539, 0.9906) -> (-37.7459, 0.9906)
  line L439 (-37.7459, 0.9906) -> (-37.7459, 2.8956)
  line L440 (-37.7459, 2.8956) -> (-37.8729, 3.1496)
  line L441 (-37.8729, 3.1496) -> (-38.1269, 3.1496)
  line L442 (-38.1269, 3.1496) -> (-38.2539, 2.8956)
  line L443 (-38.2539, 2.8956) -> (-38.2539, 0.9906)
  line L444 (-38.2539, 0.9906) -> (-39.7459, 0.9906)
  line L445 (-39.7459, 0.9906) -> (-39.7459, 2.8956)
  line L446 (-39.7459, 2.8956) -> (-39.8729, 3.1496)
  line L447 (-39.8729, 3.1496) -> (-40.1269, 3.1496)
  line L448 (-40.1269, 3.1496) -> (-40.2539, 2.8956)
  line L449 (-40.2539, 2.8956) -> (-40.2539, 0.9906)
  line L450 (-40.2539, 0.9906) -> (-41.7459, 0.9906)
  line L451 (-41.7459, 0.9906) -> (-41.7459, 2.8956)
  line L452 (-41.7459, 2.8956) -> (-41.8729, 3.1496)
  line L453 (-41.8729, 3.1496) -> (-42.1269, 3.1496)
  line L454 (-42.1269, 3.1496) -> (-42.2539, 2.8956)
  line L455 (-42.2539, 2.8956) -> (-42.2539, 0.9906)
  line L456 (-42.2539, 0.9906) -> (-43.7459, 0.9906)
  line L457 (-43.7459, 0.9906) -> (-43.7459, 2.8956)
  line L458 (-43.7459, 2.8956) -> (-43.8729, 3.1496)
  line L459 (-43.8729, 3.1496) -> (-44.1269, 3.1496)
  line L460 (-44.1269, 3.1496) -> (-44.2539, 2.8956)
  line L461 (-44.2539, 2.8956) -> (-44.2539, 0.9906)
  line L462 (-44.2539, 0.9906) -> (-45.7459, 0.9906)
  line L463 (-45.7459, 0.9906) -> (-45.7459, 2.8956)
  line L464 (-45.7459, 2.8956) -> (-45.8729, 3.1496)
  line L465 (-45.8729, 3.1496) -> (-46.1269, 3.1496)
  line L466 (-46.1269, 3.1496) -> (-46.2539, 2.8956)
  line L467 (-46.2539, 2.8956) -> (-46.2539, 0.9906)
  line L468 (-46.2539, 0.9906) -> (-47.7459, 0.9906)
  line L469 (-47.7459, 0.9906) -> (-47.7459, 2.8956)
  line L470 (-47.7459, 2.8956) -> (-47.8729, 3.1496)
  line L471 (-47.8729, 3.1496) -> (-48.1269, 3.1496)
  line L472 (-48.1269, 3.1496) -> (-48.2539, 2.8956)
  line L473 (-48.2539, 2.8956) -> (-48.2539, 0.9906)
  line L474 (-48.2539, 0.9906) -> (-49.7459, 0.9906)
  line L475 (-49.7459, 0.9906) -> (-49.7459, 2.8956)
  line L476 (-49.7459, 2.8956) -> (-49.8729, 3.1496)
  line L477 (-49.8729, 3.1496) -> (-50.1269, 3.1496)
  line L478 (-50.1269, 3.1496) -> (-50.2539, 2.8956)
  line L479 (-50.2539, 2.8956) -> (-50.2539, 0.9906)
  line L480 (-50.2539, 0.9906) -> (-51.7459, 0.9906)
  line L481 (-51.7459, 0.9906) -> (-51.7459, 2.8956)
  line L482 (-51.7459, 2.8956) -> (-51.8729, 3.1496)
  line L483 (-51.8729, 3.1496) -> (-52.1269, 3.1496)
  line L484 (-52.1269, 3.1496) -> (-52.2539, 2.8956)
  line L485 (-52.2539, 2.8956) -> (-52.2539, 0.9906)
  line L486 (-52.2539, 0.9906) -> (-53.7459, 0.9906)
  line L487 (-53.7459, 0.9906) -> (-53.7459, 2.8956)
  line L488 (-53.7459, 2.8956) -> (-53.8729, 3.1496)
  line L489 (-53.8729, 3.1496) -> (-54.1269, 3.1496)
  line L490 (-54.1269, 3.1496) -> (-54.2539, 2.8956)
  line L491 (-54.2539, 2.8956) -> (-54.2539, 0.9906)
  line L492 (-54.2539, 0.9906) -> (-55.7459, 0.9906)
  line L493 (-55.7459, 0.9906) -> (-55.7459, 2.8956)
  line L494 (-55.7459, 2.8956) -> (-55.8729, 3.1496)
  line L495 (-55.8729, 3.1496) -> (-56.1269, 3.1496)
  line L496 (-56.1269, 3.1496) -> (-56.2539, 2.8956)
  line L497 (-56.2539, 2.8956) -> (-56.2539, 0.9906)
  line L498 (-56.2539, 0.9906) -> (-57.7459, 0.9906)
  line L499 (-57.7459, 0.9906) -> (-57.7459, 2.8956)
  line L500 (-57.7459, 2.8956) -> (-57.8729, 3.1496)
  line L501 (-57.8729, 3.1496) -> (-58.1269, 3.1496)
  line L502 (-58.1269, 3.1496) -> (-58.2539, 2.8956)
  line L503 (-58.2539, 2.8956) -> (-58.2539, 0.9906)
  line L504 (-58.2539, 0.9906) -> (-59.7459, 0.9906)
  line L505 (-59.7459, 0.9906) -> (-59.7459, 2.8956)
  line L506 (-59.7459, 2.8956) -> (-59.8729, 3.1496)
  line L507 (-59.8729, 3.1496) -> (-60.1269, 3.1496)
  line L508 (-60.1269, 3.1496) -> (-60.2539, 2.8956)
  line L509 (-60.2539, 2.8956) -> (-60.2539, 0.9906)
  line L510 (-60.2539, 0.9906) -> (-61.7459, 0.9906)
  line L511 (-61.7459, 0.9906) -> (-61.7459, 2.8956)
  line L512 (-61.7459, 2.8956) -> (-61.8729, 3.1496)
  line L513 (-61.8729, 3.1496) -> (-62.1269, 3.1496)
  line L514 (-62.1269, 3.1496) -> (-62.2539, 2.8956)
  line L515 (-62.2539, 2.8956) -> (-62.2539, 0.9906)
  line L516 (-62.2539, 0.9906) -> (-63.7459, 0.9906)
  line L517 (-63.7459, 0.9906) -> (-63.7459, 2.8956)
  line L518 (-63.7459, 2.8956) -> (-63.8729, 3.1496)
  line L519 (-63.8729, 3.1496) -> (-64.1269, 3.1496)
  line L520 (-64.1269, 3.1496) -> (-64.2539, 2.8956)
  line L521 (-64.2539, 2.8956) -> (-64.2539, 0.9906)
  line L522 (-64.2539, 0.9906) -> (-65.7459, 0.9906)
  line L523 (-65.7459, 0.9906) -> (-65.7459, 2.8956)
  line L524 (-65.7459, 2.8956) -> (-65.8729, 3.1496)
  line L525 (-65.8729, 3.1496) -> (-66.1269, 3.1496)
  line L526 (-66.1269, 3.1496) -> (-66.2539, 2.8956)
  line L527 (-66.2539, 2.8956) -> (-66.2539, 0.9906)
  line L528 (-66.2539, 0.9906) -> (-67.7459, 0.9906)
  line L529 (-67.7459, 0.9906) -> (-67.7459, 2.8956)
  line L530 (-67.7459, 2.8956) -> (-67.8729, 3.1496)
  line L531 (-67.8729, 3.1496) -> (-68.1269, 3.1496)
  line L532 (-68.1269, 3.1496) -> (-68.2539, 2.8956)
  line L533 (-68.2539, 2.8956) -> (-68.2539, 0.9906)
  line L534 (-68.2539, 0.9906) -> (-69.7459, 0.9906)
  line L535 (-69.7459, 0.9906) -> (-69.7459, 2.8956)
  line L536 (-69.7459, 2.8956) -> (-69.8729, 3.1496)
  line L537 (-69.8729, 3.1496) -> (-70.1269, 3.1496)
  line L538 (-70.1269, 3.1496) -> (-70.2539, 2.8956)
  line L539 (-70.2539, 2.8956) -> (-70.2539, 0.9906)
  line L540 (-70.2539, 0.9906) -> (-71.7459, 0.9906)
  line L541 (-71.7459, 0.9906) -> (-71.7459, 2.8956)
  line L542 (-71.7459, 2.8956) -> (-71.8729, 3.1496)
  line L543 (-71.8729, 3.1496) -> (-72.1269, 3.1496)
  line L544 (-72.1269, 3.1496) -> (-72.2539, 2.8956)
  line L545 (-72.2539, 2.8956) -> (-72.2539, 0.9906)
  line L546 (-72.2539, 0.9906) -> (-73.7459, 0.9906)
  line L547 (-73.7459, 0.9906) -> (-73.7459, 2.8956)
  line L548 (-73.7459, 2.8956) -> (-73.8729, 3.1496)
  line L549 (-73.8729, 3.1496) -> (-74.1269, 3.1496)
  line L550 (-74.1269, 3.1496) -> (-74.2539, 2.8956)
  line L551 (-74.2539, 2.8956) -> (-74.2539, 0.9906)
  line L552 (-74.2539, 0.9906) -> (-75.7458, 0.9906)
  line L553 (-75.7458, 0.9906) -> (-75.7458, 2.8956)
  line L554 (-75.7458, 2.8956) -> (-75.8728, 3.1496)
  line L555 (-75.8728, 3.1496) -> (-76.1268, 3.1496)
  line L556 (-76.1268, 3.1496) -> (-76.2538, 2.8956)
  line L557 (-76.2538, 2.8956) -> (-76.2538, 0.9906)
  line L558 (-76.2538, 0.9906) -> (-77.7458, 0.9906)
  line L559 (-77.7458, 0.9906) -> (-77.7458, 2.8956)
  line L560 (-77.7458, 2.8956) -> (-77.8728, 3.1496)
  line L561 (-77.8728, 3.1496) -> (-78.1268, 3.1496)
  line L562 (-78.1268, 3.1496) -> (-78.2538, 2.8956)
  line L563 (-78.2538, 2.8956) -> (-78.2538, 0.9906)
  line L564 (-78.2538, 0.9906) -> (-79.7458, 0.9906)
  line L565 (-79.7458, 0.9906) -> (-79.7458, 2.8956)
  line L566 (-79.7458, 2.8956) -> (-79.8728, 3.1496)
  line L567 (-79.8728, 3.1496) -> (-80.1268, 3.1496)
  line L568 (-80.1268, 3.1496) -> (-80.2538, 2.8956)
  line L569 (-80.2538, 2.8956) -> (-80.2538, 0.9906)
  line L570 (-80.2538, 0.9906) -> (-81.7458, 0.9906)
  line L571 (-81.7458, 0.9906) -> (-81.7458, 2.8956)
  line L572 (-81.7458, 2.8956) -> (-81.8728, 3.1496)
  line L573 (-81.8728, 3.1496) -> (-82.1268, 3.1496)
  line L574 (-82.1268, 3.1496) -> (-82.2538, 2.8956)
  line L575 (-82.2538, 2.8956) -> (-82.2538, 0.9906)
  line L576 (-82.2538, 0.9906) -> (-83.7458, 0.9906)
  line L577 (-83.7458, 0.9906) -> (-83.7458, 2.8956)
  line L578 (-83.7458, 2.8956) -> (-83.8728, 3.1496)
  line L579 (-83.8728, 3.1496) -> (-84.1268, 3.1496)
  line L580 (-84.1268, 3.1496) -> (-84.2538, 2.8956)
  line L581 (-84.2538, 2.8956) -> (-84.2538, 0.9906)
  line L582 (-84.2538, 0.9906) -> (-85.7458, 0.9906)
  line L583 (-85.7458, 0.9906) -> (-85.7458, 2.8956)
  line L584 (-85.7458, 2.8956) -> (-85.8728, 3.1496)
  line L585 (-85.8728, 3.1496) -> (-86.1268, 3.1496)
  line L586 (-86.1268, 3.1496) -> (-86.2538, 2.8956)
  line L587 (-86.2538, 2.8956) -> (-86.2538, 0.9906)
  line L588 (-86.2538, 0.9906) -> (-87.7458, 0.9906)
  line L589 (-87.7458, 0.9906) -> (-87.7458, 2.8956)
  line L590 (-87.7458, 2.8956) -> (-87.8728, 3.1496)
  line L591 (-87.8728, 3.1496) -> (-88.1268, 3.1496)
  line L592 (-88.1268, 3.1496) -> (-88.2538, 2.8956)
  line L593 (-88.2538, 2.8956) -> (-88.2538, 0.9906)
  line L594 (-88.2538, 0.9906) -> (-89.7458, 0.9906)
  line L595 (-89.7458, 0.9906) -> (-89.7458, 2.8956)
  line L596 (-89.7458, 2.8956) -> (-89.8728, 3.1496)
  line L597 (-89.8728, 3.1496) -> (-90.1268, 3.1496)
  line L598 (-90.1268, 3.1496) -> (-90.2538, 2.8956)
  line L599 (-90.2538, 2.8956) -> (-90.2538, 0.9906)
  line L600 (-90.2538, 0.9906) -> (-91.7458, 0.9906)
  line L601 (-91.7458, 0.9906) -> (-91.7458, 2.8956)
  line L602 (-91.7458, 2.8956) -> (-91.8728, 3.1496)
  line L603 (-91.8728, 3.1496) -> (-92.1268, 3.1496)
  line L604 (-92.1268, 3.1496) -> (-92.2538, 2.8956)
  line L605 (-92.2538, 2.8956) -> (-92.2538, 0.9906)
  line L606 (-92.2538, 0.9906) -> (-93.7458, 0.9906)
  line L607 (-93.7458, 0.9906) -> (-93.7458, 2.8956)
  line L608 (-93.7458, 2.8956) -> (-93.8728, 3.1496)
  line L609 (-93.8728, 3.1496) -> (-94.1268, 3.1496)
  line L610 (-94.1268, 3.1496) -> (-94.2538, 2.8956)
  line L611 (-94.2538, 2.8956) -> (-94.2538, 0.9906)
  line L612 (-94.2538, 0.9906) -> (-95.7458, 0.9906)
  line L613 (-95.7458, 0.9906) -> (-95.7458, 2.8956)
  line L614 (-95.7458, 2.8956) -> (-95.8728, 3.1496)
  line L615 (-95.8728, 3.1496) -> (-96.1268, 3.1496)
  line L616 (-96.1268, 3.1496) -> (-96.2538, 2.8956)
  line L617 (-96.2538, 2.8956) -> (-96.2538, 0.9906)
  line L618 (-96.2538, 0.9906) -> (-97.7458, 0.9906)
  line L619 (-97.7458, 0.9906) -> (-97.7458, 2.8956)
  line L620 (-97.7458, 2.8956) -> (-97.8728, 3.1496)
  line L621 (-97.8728, 3.1496) -> (-98.1268, 3.1496)
  line L622 (-98.1268, 3.1496) -> (-98.2538, 2.8956)
  line L623 (-98.2538, 2.8956) -> (-98.2538, 0.9906)
  line L624 (-98.2538, 0.9906) -> (-99.7458, 0.9906)
  line L625 (-99.7458, 0.9906) -> (-99.7458, 2.8956)
  line L626 (-99.7458, 2.8956) -> (-99.8728, 3.1496)
  line L627 (-99.8728, 3.1496) -> (-100.1268, 3.1496)
  line L628 (-100.1268, 3.1496) -> (-100.2538, 2.8956)
  line L629 (-100.2538, 2.8956) -> (-100.2538, 0.9906)
  line L630 (-100.2538, 0.9906) -> (-100.4603, 0.9906)
  line L631 (-100.4603, 0.9906) -> (-100.4603, 0.762)
extrude "Extrusion2" cut sketch "Sketch_1" along normal mid plane 15.24
ref_plane "0_XY" through (0, 0, 0) normal (0, 1, 0) x (1, 0, 0)
ref_plane "0_YZ" through (0, 0, 0) normal (1, 0, 0) x (0, 0, -1)
ref_plane "0_ZX" through (0, 0, 0) normal (0, 0, -1) x (0, 1, 0)
properties part number "TMM-103-05-F-D_pins1"
